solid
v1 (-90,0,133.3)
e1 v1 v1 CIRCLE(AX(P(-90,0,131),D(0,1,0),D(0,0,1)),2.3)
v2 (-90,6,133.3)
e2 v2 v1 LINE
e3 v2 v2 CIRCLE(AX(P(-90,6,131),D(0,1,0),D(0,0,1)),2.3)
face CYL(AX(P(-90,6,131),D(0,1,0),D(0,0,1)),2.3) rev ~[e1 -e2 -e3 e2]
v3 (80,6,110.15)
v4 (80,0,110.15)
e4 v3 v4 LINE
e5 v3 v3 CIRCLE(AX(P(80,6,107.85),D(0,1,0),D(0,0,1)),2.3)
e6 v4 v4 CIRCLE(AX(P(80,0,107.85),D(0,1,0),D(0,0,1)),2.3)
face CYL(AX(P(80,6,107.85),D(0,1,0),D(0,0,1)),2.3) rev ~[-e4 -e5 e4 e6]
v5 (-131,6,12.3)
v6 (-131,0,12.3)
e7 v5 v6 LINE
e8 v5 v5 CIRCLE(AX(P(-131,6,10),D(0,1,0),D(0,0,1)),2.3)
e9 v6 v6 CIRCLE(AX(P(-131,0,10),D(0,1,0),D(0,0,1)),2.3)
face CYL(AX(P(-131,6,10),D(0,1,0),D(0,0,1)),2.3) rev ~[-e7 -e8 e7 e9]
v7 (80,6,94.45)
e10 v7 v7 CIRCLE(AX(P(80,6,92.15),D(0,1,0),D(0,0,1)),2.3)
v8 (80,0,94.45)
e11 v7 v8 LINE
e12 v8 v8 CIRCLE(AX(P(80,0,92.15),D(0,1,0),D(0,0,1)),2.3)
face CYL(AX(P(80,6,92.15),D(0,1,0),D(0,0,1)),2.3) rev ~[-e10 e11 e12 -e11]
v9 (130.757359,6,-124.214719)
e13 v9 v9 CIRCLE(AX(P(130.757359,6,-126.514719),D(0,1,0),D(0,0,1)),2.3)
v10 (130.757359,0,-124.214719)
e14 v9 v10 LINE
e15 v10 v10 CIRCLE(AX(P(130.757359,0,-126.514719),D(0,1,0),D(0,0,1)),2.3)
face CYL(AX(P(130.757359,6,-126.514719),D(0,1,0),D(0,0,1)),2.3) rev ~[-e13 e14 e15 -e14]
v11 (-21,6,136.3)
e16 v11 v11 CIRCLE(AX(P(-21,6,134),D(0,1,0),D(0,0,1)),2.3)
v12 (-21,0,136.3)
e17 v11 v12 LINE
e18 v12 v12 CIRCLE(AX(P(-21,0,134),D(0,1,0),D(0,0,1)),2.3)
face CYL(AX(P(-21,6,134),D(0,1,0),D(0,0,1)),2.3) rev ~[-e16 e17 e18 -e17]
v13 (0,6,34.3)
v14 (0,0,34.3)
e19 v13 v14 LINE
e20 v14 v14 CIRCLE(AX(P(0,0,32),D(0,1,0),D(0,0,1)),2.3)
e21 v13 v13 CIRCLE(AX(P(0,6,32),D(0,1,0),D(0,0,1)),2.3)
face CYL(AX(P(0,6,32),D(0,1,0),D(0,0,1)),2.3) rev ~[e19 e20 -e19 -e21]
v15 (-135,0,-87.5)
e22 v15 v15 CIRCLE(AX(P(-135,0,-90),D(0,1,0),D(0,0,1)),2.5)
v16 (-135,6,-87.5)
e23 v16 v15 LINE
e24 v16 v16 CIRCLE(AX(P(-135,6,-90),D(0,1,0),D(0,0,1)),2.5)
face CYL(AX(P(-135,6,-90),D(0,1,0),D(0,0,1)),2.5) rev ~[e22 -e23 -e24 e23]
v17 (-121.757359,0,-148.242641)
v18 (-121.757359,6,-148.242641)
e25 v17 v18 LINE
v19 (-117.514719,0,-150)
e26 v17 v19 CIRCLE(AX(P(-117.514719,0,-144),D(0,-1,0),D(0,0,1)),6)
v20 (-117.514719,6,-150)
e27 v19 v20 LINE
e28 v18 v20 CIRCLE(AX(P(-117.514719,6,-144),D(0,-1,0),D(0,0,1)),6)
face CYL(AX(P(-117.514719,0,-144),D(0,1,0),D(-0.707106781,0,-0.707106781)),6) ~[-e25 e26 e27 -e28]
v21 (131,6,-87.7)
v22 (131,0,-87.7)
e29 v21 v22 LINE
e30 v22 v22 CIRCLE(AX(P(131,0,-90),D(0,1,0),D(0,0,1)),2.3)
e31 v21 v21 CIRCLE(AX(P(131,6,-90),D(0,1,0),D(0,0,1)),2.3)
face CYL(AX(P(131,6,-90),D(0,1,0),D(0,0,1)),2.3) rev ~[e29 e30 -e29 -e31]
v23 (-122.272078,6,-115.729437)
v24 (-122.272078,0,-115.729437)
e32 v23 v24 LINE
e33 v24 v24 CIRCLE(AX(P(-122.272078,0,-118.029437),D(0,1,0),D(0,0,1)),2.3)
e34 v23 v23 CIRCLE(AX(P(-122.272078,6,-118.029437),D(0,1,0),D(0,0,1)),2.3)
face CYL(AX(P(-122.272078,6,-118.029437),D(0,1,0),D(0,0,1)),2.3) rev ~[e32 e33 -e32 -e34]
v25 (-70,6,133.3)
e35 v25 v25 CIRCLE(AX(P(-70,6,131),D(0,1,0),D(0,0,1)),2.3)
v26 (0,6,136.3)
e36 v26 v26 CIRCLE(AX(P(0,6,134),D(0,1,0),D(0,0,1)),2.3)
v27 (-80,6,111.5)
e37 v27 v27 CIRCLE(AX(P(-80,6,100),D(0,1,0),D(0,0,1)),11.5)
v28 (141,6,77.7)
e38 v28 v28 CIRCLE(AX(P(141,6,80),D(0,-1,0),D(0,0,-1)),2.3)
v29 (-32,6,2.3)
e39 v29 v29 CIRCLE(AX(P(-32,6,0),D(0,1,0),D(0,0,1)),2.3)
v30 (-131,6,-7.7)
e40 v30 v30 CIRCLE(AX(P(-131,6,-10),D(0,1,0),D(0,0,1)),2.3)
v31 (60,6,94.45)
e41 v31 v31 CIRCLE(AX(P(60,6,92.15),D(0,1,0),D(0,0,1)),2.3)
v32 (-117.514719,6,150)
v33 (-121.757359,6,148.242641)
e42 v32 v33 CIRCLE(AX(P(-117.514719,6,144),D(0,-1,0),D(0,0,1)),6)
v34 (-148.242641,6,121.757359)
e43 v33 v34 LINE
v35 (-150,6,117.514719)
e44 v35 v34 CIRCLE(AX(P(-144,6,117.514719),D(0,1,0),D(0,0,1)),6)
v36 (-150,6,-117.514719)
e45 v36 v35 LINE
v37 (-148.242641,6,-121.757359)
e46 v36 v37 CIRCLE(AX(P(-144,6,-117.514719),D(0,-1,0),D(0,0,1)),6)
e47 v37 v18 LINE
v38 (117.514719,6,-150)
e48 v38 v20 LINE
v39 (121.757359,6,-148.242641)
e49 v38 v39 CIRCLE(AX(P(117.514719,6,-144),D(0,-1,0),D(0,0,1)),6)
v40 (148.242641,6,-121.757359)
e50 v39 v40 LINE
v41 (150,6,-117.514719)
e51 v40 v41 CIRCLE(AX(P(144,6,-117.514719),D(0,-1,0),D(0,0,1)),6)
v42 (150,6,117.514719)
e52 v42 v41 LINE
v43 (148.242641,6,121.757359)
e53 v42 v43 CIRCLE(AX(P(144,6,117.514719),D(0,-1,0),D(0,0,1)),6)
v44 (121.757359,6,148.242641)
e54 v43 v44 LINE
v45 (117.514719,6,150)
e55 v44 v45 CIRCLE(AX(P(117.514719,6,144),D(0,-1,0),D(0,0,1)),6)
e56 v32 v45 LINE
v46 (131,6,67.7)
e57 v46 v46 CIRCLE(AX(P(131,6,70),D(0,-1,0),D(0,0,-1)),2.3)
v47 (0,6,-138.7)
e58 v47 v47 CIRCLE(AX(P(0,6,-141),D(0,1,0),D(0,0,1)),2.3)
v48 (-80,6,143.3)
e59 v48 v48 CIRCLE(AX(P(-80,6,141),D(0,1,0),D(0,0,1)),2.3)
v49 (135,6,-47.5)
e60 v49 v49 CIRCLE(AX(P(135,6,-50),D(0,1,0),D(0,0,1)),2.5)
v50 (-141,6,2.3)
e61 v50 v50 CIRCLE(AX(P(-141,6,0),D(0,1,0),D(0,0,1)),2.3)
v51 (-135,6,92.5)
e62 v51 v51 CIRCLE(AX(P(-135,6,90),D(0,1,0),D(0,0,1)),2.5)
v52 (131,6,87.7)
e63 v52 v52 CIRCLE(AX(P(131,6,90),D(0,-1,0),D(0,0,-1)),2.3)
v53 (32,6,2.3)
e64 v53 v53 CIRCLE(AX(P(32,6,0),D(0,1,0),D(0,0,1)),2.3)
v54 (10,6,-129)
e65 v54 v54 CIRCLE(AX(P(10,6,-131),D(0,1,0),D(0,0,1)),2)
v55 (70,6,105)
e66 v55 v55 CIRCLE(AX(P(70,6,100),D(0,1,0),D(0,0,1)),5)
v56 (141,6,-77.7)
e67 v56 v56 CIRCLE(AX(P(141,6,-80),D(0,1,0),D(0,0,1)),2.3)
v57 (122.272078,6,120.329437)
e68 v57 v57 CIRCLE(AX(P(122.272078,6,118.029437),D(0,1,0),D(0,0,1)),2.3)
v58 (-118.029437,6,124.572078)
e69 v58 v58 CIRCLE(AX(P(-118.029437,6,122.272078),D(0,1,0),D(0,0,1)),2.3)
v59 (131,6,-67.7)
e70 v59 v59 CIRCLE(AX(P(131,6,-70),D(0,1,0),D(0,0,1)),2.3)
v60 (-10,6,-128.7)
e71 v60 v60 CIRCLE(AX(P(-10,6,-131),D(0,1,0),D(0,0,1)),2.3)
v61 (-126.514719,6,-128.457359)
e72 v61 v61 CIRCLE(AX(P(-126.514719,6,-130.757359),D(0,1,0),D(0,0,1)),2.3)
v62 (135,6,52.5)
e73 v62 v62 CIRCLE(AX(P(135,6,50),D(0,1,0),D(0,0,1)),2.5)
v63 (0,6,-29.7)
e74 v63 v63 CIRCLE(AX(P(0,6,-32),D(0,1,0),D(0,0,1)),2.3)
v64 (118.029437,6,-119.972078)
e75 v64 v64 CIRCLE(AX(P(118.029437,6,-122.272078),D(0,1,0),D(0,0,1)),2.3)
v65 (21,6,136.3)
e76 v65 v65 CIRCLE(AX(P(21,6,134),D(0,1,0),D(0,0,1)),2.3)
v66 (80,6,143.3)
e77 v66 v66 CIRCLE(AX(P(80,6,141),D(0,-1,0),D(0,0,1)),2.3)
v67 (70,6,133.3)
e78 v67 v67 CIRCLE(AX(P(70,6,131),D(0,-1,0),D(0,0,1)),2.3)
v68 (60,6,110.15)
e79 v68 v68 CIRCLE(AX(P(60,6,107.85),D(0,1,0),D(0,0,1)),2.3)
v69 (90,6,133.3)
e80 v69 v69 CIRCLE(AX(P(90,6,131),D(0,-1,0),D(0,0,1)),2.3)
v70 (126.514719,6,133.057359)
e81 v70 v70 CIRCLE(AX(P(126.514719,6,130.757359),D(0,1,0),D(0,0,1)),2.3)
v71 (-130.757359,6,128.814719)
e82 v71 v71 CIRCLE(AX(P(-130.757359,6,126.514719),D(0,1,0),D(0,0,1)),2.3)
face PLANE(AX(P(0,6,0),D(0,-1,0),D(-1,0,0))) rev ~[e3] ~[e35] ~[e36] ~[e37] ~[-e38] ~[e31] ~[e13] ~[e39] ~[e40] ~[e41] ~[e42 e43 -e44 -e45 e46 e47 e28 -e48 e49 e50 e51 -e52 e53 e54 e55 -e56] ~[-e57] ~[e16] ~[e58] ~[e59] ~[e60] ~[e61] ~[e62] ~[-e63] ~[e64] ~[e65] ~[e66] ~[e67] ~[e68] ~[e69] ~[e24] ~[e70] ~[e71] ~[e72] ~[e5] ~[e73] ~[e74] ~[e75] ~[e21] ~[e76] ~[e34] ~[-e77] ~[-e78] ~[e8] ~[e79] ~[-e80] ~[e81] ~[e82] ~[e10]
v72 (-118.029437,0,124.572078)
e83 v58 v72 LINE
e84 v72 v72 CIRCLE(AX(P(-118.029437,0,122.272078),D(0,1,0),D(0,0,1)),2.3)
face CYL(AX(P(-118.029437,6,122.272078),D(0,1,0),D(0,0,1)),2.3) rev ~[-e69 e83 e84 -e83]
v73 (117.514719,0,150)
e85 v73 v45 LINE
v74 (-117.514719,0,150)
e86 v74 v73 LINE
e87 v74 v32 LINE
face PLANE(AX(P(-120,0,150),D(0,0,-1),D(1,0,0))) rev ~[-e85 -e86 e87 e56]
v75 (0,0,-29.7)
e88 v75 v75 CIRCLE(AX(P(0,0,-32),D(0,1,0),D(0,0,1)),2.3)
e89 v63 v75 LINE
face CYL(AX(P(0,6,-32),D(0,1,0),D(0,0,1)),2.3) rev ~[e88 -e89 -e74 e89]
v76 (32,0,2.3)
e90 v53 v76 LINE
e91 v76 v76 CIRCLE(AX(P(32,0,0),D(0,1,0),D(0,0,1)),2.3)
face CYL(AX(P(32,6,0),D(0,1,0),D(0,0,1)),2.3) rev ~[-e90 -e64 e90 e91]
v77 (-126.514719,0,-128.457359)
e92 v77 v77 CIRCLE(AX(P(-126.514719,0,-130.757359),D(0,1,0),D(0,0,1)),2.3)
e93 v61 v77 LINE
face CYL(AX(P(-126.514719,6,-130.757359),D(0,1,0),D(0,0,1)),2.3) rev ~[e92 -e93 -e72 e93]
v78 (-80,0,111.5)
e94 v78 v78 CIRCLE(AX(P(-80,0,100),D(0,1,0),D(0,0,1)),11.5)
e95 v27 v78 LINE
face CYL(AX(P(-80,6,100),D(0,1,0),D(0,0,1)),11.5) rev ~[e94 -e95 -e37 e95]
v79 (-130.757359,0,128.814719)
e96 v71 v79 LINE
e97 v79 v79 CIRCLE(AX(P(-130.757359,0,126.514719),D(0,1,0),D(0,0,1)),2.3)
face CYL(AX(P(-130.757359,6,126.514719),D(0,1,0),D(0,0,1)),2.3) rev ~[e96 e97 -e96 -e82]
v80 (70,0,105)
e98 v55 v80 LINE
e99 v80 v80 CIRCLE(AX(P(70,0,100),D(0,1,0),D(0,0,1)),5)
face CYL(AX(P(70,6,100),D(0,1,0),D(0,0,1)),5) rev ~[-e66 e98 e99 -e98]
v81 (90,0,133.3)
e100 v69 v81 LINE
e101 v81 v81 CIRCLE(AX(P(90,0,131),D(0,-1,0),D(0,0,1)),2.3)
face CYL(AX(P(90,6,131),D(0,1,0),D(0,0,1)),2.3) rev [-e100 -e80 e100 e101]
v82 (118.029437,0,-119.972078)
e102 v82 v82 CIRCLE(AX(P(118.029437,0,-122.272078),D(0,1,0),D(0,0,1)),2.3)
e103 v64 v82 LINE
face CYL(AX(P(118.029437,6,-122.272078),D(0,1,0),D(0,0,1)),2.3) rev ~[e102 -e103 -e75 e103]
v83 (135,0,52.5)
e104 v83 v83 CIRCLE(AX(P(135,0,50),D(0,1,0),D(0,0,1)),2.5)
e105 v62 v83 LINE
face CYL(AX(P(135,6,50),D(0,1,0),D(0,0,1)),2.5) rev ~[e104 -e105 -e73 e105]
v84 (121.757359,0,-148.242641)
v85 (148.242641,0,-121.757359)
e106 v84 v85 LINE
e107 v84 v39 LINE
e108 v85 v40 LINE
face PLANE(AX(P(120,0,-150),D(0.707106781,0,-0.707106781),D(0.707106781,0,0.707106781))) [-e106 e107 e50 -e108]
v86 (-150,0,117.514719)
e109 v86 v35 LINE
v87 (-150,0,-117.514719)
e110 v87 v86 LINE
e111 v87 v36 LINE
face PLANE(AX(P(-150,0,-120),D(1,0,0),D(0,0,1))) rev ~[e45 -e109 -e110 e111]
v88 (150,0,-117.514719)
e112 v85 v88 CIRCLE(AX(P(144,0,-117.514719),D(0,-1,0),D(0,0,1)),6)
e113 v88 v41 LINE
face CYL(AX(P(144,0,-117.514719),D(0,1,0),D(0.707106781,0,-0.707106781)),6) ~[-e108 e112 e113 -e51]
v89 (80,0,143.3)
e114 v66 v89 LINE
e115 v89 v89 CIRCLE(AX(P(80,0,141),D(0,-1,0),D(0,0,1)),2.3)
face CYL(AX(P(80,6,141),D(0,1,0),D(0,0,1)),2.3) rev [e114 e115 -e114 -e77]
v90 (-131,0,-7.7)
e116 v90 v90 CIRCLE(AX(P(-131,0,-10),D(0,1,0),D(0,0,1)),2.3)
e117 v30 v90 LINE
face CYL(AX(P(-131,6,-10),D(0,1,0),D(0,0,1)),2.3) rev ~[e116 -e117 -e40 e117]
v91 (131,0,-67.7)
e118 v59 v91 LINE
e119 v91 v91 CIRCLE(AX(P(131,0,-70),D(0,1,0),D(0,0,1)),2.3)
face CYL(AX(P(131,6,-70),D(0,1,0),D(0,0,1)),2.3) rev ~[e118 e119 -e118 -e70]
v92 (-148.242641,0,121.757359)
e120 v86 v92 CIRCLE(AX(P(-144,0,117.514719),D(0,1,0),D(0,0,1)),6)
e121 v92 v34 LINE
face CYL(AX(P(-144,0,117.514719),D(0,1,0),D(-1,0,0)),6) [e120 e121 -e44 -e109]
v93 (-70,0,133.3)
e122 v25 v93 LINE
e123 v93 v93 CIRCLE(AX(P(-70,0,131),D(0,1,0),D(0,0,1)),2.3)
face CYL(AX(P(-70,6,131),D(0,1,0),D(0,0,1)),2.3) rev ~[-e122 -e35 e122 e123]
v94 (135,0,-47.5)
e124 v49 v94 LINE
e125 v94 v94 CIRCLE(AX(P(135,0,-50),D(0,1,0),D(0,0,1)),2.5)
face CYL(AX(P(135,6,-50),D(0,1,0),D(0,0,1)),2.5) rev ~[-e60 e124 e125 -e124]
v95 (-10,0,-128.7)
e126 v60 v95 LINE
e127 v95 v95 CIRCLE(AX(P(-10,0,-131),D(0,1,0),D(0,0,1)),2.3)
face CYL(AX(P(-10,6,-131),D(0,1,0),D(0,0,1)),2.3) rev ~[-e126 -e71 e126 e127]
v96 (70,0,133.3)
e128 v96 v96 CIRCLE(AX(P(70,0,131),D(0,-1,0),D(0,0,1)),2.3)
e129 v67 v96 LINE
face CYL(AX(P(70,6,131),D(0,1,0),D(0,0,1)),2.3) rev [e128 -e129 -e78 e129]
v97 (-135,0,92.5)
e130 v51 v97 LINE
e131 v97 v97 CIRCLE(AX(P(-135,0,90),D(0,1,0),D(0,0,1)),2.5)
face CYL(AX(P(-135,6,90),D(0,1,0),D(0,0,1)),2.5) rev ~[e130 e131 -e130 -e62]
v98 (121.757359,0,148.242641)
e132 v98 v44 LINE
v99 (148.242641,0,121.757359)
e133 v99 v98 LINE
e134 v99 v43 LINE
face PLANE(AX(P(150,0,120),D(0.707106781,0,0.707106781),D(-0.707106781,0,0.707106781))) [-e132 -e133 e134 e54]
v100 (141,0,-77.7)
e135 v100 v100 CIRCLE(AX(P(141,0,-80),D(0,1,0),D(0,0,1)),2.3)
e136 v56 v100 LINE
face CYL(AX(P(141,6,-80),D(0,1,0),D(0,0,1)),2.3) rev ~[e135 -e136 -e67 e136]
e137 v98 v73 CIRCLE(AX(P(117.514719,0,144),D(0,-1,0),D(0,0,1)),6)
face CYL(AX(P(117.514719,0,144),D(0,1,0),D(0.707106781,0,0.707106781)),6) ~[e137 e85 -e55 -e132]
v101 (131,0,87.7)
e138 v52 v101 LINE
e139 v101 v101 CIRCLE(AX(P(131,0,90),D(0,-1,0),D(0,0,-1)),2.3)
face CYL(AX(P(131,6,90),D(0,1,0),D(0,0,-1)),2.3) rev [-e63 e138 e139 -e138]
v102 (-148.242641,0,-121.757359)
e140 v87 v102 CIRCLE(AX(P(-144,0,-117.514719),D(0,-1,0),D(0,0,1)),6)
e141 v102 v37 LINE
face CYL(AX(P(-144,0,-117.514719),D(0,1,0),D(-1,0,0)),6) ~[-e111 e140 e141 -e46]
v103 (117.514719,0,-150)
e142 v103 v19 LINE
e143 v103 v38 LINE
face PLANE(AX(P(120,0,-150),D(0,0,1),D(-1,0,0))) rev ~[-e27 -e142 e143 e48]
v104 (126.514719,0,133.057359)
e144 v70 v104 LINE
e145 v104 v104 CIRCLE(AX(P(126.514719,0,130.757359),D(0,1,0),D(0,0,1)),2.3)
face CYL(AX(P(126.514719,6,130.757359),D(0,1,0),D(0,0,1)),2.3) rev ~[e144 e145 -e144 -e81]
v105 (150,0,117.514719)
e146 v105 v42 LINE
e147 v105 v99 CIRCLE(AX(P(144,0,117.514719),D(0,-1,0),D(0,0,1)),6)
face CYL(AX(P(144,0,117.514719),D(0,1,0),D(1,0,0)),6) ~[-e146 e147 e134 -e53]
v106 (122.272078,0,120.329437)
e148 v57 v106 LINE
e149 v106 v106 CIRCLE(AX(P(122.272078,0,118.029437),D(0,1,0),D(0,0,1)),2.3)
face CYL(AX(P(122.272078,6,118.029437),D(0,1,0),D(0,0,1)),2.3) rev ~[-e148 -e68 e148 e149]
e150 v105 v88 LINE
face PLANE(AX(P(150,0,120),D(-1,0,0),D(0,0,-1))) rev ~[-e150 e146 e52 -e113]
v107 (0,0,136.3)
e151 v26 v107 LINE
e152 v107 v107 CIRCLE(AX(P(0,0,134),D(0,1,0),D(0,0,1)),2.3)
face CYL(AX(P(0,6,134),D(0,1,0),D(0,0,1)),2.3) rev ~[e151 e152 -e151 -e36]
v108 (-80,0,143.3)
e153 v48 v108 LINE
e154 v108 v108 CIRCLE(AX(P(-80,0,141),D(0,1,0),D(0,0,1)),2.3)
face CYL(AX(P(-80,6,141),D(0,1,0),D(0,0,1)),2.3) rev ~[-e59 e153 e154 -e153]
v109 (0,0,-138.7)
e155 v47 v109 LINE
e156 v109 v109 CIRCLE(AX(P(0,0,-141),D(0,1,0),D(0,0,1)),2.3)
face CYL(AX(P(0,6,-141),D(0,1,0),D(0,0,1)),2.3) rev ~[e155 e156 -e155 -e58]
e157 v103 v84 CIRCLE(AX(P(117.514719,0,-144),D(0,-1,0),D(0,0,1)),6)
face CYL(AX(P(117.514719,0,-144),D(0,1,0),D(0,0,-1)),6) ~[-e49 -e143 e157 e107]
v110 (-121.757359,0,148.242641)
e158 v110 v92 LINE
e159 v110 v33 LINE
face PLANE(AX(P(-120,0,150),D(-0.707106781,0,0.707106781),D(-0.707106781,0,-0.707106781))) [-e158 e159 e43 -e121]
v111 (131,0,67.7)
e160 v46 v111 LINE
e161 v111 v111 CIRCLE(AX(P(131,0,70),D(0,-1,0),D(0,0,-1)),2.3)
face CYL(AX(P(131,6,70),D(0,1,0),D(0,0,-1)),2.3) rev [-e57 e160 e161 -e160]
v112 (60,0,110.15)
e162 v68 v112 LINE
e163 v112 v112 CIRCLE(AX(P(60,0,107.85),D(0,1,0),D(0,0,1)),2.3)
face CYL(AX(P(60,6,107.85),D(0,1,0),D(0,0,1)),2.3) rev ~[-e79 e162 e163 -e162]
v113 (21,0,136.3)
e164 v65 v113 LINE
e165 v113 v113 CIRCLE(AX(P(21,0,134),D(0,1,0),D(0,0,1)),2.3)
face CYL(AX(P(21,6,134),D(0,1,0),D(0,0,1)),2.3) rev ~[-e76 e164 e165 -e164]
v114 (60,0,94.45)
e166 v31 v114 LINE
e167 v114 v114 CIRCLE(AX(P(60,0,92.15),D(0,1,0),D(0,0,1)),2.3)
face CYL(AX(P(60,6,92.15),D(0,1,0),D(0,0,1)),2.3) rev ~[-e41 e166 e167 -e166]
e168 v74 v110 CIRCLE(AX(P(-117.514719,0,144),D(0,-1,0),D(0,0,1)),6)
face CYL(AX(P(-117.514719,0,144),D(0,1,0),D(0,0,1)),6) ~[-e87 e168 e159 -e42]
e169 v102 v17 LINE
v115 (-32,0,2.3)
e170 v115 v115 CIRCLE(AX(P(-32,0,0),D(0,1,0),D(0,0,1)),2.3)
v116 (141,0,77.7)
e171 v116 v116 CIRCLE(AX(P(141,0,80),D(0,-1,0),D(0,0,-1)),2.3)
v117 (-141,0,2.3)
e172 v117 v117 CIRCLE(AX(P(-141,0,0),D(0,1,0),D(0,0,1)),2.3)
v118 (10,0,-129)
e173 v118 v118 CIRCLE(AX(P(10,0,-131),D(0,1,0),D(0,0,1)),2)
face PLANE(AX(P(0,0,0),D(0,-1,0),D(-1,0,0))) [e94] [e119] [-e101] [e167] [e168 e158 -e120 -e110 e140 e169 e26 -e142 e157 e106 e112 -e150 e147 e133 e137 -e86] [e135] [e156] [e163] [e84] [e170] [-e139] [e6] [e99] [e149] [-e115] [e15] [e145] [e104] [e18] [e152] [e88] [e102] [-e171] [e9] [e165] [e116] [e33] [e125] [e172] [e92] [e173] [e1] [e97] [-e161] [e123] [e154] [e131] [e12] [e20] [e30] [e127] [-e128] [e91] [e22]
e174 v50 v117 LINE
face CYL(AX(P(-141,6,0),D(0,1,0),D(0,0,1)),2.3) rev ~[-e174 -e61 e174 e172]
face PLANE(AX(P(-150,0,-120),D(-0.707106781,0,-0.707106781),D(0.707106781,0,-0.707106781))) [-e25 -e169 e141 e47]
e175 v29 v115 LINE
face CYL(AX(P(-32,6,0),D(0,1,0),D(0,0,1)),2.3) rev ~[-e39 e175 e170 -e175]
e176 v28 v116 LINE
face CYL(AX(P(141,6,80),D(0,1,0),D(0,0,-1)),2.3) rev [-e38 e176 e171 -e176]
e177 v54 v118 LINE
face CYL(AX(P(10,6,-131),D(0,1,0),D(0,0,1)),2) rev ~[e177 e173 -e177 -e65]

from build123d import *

# Parameters (mm, degrees)
BOSS_EXTRU_1_DEPTH       = 6
CONG_3_R                 = 6
ENL_V_MAT_EXTRU_9_REACH  = 214.217
ESQUISSE10_R             = 11.5
ENL_V_MAT_EXTRU_10_REACH = 214.217
ESQUISSE11_R             = 5
ESQUISSE11_R_2           = 2.3
ENL_V_MAT_EXTRU_14_REACH = 214.217
ESQUISSE15_R             = 2.3
ENL_V_MAT_EXTRU_15_REACH = 214.217
ESQUISSE14_R             = 2.3
ENL_V_MAT_EXTRU_16_REACH = 214.217
ESQUISSE13_R             = 2.3
ENL_V_MAT_EXTRU_17_REACH = 214.217
ESQUISSE16_R             = 2.3
ESQUISSE16_R_2           = 2
ENL_V_MAT_EXTRU_18_REACH = 214.217
ESQUISSE17_R             = 2.3
ENL_V_MAT_EXTRU_19_REACH = 214.217
ESQUISSE18_R             = 2.3
ENL_V_MAT_EXTRU_21_REACH = 214.217
ESQUISSE20_R             = 2.5
ENL_V_MAT_EXTRU_22_REACH = 214.217
ESQUISSE21_R             = 2.3


with BuildPart() as part:
    # Esquisse1 → Boss.-Extru.1 (new body)
    with BuildSketch(Plane(origin=(0, 0, 0), x_dir=(1, 0, 0), z_dir=(0, 1, 0))):
        Polygon((-150, 0), (-150, 120), (-120, 150), (0, 150), (120, 150), (150, 120), (150, 0), (150, -120), (120, -150), (0, -150), (-120, -150), (-150, -120), align=None)
    extrude(amount=BOSS_EXTRU_1_DEPTH)

    # Congé3
    cong_3_edges = [part.edges().sort_by_distance(p)[0] for p in [
        (-150, 3, -120),
        (-120, 3, -150),
        (120, 3, -150),
        (150, 3, -120),
        (150, 3, 120),
        (120, 3, 150),
        (-120, 3, 150),
        (-150, 3, 120),
    ]]
    fillet(cong_3_edges, radius=CONG_3_R)

    # Esquisse10 → Enlèv. mat.-Extru.9 (cut, up to next)
    with BuildSketch(Plane(origin=(0, 6, 0), x_dir=(1, 0, 0), z_dir=(0, 1, 0)), mode=Mode.PRIVATE) as enl_v_mat_extru_9_sk1:
        with Locations(Location((-80, -100, 0), (0, 0, 270))):
            Circle(ESQUISSE10_R)
    enl_v_mat_extru_9_tool1 = extrude(enl_v_mat_extru_9_sk1.sketch, amount=-ENL_V_MAT_EXTRU_9_REACH, mode=Mode.PRIVATE) & part.part
    add(enl_v_mat_extru_9_tool1.solids().sort_by_distance((-80, 6, 100))[0], mode=Mode.SUBTRACT)

    # Esquisse11 → Enlèv. mat.-Extru.10 (cut, up to next)
    with BuildSketch(Plane(origin=(0, 6, 0), x_dir=(1, 0, 0), z_dir=(0, 1, 0)), mode=Mode.PRIVATE) as enl_v_mat_extru_10_sk1:
        with Locations(Location((70, -100, 0), (0, 0, 270))):
            Circle(ESQUISSE11_R)
    enl_v_mat_extru_10_tool1 = extrude(enl_v_mat_extru_10_sk1.sketch, amount=-ENL_V_MAT_EXTRU_10_REACH, mode=Mode.PRIVATE) & part.part
    # Esquisse11 → Enlèv. mat.-Extru.10 (cut, up to next)
    with BuildSketch(Plane(origin=(0, 6, 0), x_dir=(1, 0, 0), z_dir=(0, 1, 0)), mode=Mode.PRIVATE) as enl_v_mat_extru_10_sk2:
        with Locations(Location((80, -107.85, 0), (0, 0, 270))):
            Circle(ESQUISSE11_R_2)
    enl_v_mat_extru_10_tool2 = extrude(enl_v_mat_extru_10_sk2.sketch, amount=-ENL_V_MAT_EXTRU_10_REACH, mode=Mode.PRIVATE) & part.part
    # Esquisse11 → Enlèv. mat.-Extru.10 (cut, up to next)
    with BuildSketch(Plane(origin=(0, 6, 0), x_dir=(1, 0, 0), z_dir=(0, 1, 0)), mode=Mode.PRIVATE) as enl_v_mat_extru_10_sk3:
        with Locations(Location((80, -92.15, 0), (0, 0, 270))):
            Circle(ESQUISSE11_R_2)
    enl_v_mat_extru_10_tool3 = extrude(enl_v_mat_extru_10_sk3.sketch, amount=-ENL_V_MAT_EXTRU_10_REACH, mode=Mode.PRIVATE) & part.part
    # Esquisse11 → Enlèv. mat.-Extru.10 (cut, up to next)
    with BuildSketch(Plane(origin=(0, 6, 0), x_dir=(1, 0, 0), z_dir=(0, 1, 0)), mode=Mode.PRIVATE) as enl_v_mat_extru_10_sk4:
        with Locations(Location((60, -92.15, 0), (0, 0, 270))):
            Circle(ESQUISSE11_R_2)
    enl_v_mat_extru_10_tool4 = extrude(enl_v_mat_extru_10_sk4.sketch, amount=-ENL_V_MAT_EXTRU_10_REACH, mode=Mode.PRIVATE) & part.part
    # Esquisse11 → Enlèv. mat.-Extru.10 (cut, up to next)
    with BuildSketch(Plane(origin=(0, 6, 0), x_dir=(1, 0, 0), z_dir=(0, 1, 0)), mode=Mode.PRIVATE) as enl_v_mat_extru_10_sk5:
        with Locations(Location((60, -107.85, 0), (0, 0, 270))):
            Circle(ESQUISSE11_R_2)
    enl_v_mat_extru_10_tool5 = extrude(enl_v_mat_extru_10_sk5.sketch, amount=-ENL_V_MAT_EXTRU_10_REACH, mode=Mode.PRIVATE) & part.part
    add(enl_v_mat_extru_10_tool1.solids().sort_by_distance((70, 6, 100))[0], mode=Mode.SUBTRACT)
    add(enl_v_mat_extru_10_tool2.solids().sort_by_distance((80, 6, 107.85))[0], mode=Mode.SUBTRACT)
    add(enl_v_mat_extru_10_tool3.solids().sort_by_distance((80, 6, 92.15))[0], mode=Mode.SUBTRACT)
    add(enl_v_mat_extru_10_tool4.solids().sort_by_distance((60, 6, 92.15))[0], mode=Mode.SUBTRACT)
    add(enl_v_mat_extru_10_tool5.solids().sort_by_distance((60, 6, 107.85))[0], mode=Mode.SUBTRACT)

    # Esquisse15 → Enlèv. mat.-Extru.14 (cut, up to next)
    with BuildSketch(Plane(origin=(0, 6, 0), x_dir=(1, 0, 0), z_dir=(0, 1, 0)), mode=Mode.PRIVATE) as enl_v_mat_extru_14_sk1:
        with Locations(Location((141, 80, 0), (0, 0, 270))):
            Circle(ESQUISSE15_R)
    enl_v_mat_extru_14_tool1 = extrude(enl_v_mat_extru_14_sk1.sketch, amount=-ENL_V_MAT_EXTRU_14_REACH, mode=Mode.PRIVATE) & part.part
    # Esquisse15 → Enlèv. mat.-Extru.14 (cut, up to next)
    with BuildSketch(Plane(origin=(0, 6, 0), x_dir=(1, 0, 0), z_dir=(0, 1, 0)), mode=Mode.PRIVATE) as enl_v_mat_extru_14_sk2:
        with Locations(Location((131, 70, 0), (0, 0, 270))):
            Circle(ESQUISSE15_R)
    enl_v_mat_extru_14_tool2 = extrude(enl_v_mat_extru_14_sk2.sketch, amount=-ENL_V_MAT_EXTRU_14_REACH, mode=Mode.PRIVATE) & part.part
    # Esquisse15 → Enlèv. mat.-Extru.14 (cut, up to next)
    with BuildSketch(Plane(origin=(0, 6, 0), x_dir=(1, 0, 0), z_dir=(0, 1, 0)), mode=Mode.PRIVATE) as enl_v_mat_extru_14_sk3:
        with Locations(Location((131, 90, 0), (0, 0, 270))):
            Circle(ESQUISSE15_R)
    enl_v_mat_extru_14_tool3 = extrude(enl_v_mat_extru_14_sk3.sketch, amount=-ENL_V_MAT_EXTRU_14_REACH, mode=Mode.PRIVATE) & part.part
    enl_v_mat_extru_14_1 = enl_v_mat_extru_14_tool1.solids().sort_by_distance((141, 6, -80))[0]
    add(enl_v_mat_extru_14_1, mode=Mode.SUBTRACT)
    enl_v_mat_extru_14_2 = enl_v_mat_extru_14_tool2.solids().sort_by_distance((131, 6, -70))[0]
    add(enl_v_mat_extru_14_2, mode=Mode.SUBTRACT)
    enl_v_mat_extru_14_3 = enl_v_mat_extru_14_tool3.solids().sort_by_distance((131, 6, -90))[0]
    add(enl_v_mat_extru_14_3, mode=Mode.SUBTRACT)
    enl_v_mat_extru_14 = enl_v_mat_extru_14_1 + enl_v_mat_extru_14_2 + enl_v_mat_extru_14_3  # Enlèv. mat.-Extru.14 as one shape, for the pattern or mirror that repeats it

    # Symétrie13: Enlèv. mat.-Extru.14 across plane
    add(enl_v_mat_extru_14.mirror(Plane.XY), mode=Mode.SUBTRACT)

    # Esquisse14 → Enlèv. mat.-Extru.15 (cut, up to next)
    with BuildSketch(Plane(origin=(0, 6, 0), x_dir=(1, 0, 0), z_dir=(0, 1, 0)), mode=Mode.PRIVATE) as enl_v_mat_extru_15_sk1:
        with Locations(Location((-80, -141, 0), (0, 0, 270))):
            Circle(ESQUISSE14_R)
    enl_v_mat_extru_15_tool1 = extrude(enl_v_mat_extru_15_sk1.sketch, amount=-ENL_V_MAT_EXTRU_15_REACH, mode=Mode.PRIVATE) & part.part
    # Esquisse14 → Enlèv. mat.-Extru.15 (cut, up to next)
    with BuildSketch(Plane(origin=(0, 6, 0), x_dir=(1, 0, 0), z_dir=(0, 1, 0)), mode=Mode.PRIVATE) as enl_v_mat_extru_15_sk2:
        with Locations(Location((-70, -131, 0), (0, 0, 270))):
            Circle(ESQUISSE14_R)
    enl_v_mat_extru_15_tool2 = extrude(enl_v_mat_extru_15_sk2.sketch, amount=-ENL_V_MAT_EXTRU_15_REACH, mode=Mode.PRIVATE) & part.part
    # Esquisse14 → Enlèv. mat.-Extru.15 (cut, up to next)
    with BuildSketch(Plane(origin=(0, 6, 0), x_dir=(1, 0, 0), z_dir=(0, 1, 0)), mode=Mode.PRIVATE) as enl_v_mat_extru_15_sk3:
        with Locations(Location((-90, -131, 0), (0, 0, 270))):
            Circle(ESQUISSE14_R)
    enl_v_mat_extru_15_tool3 = extrude(enl_v_mat_extru_15_sk3.sketch, amount=-ENL_V_MAT_EXTRU_15_REACH, mode=Mode.PRIVATE) & part.part
    enl_v_mat_extru_15_1 = enl_v_mat_extru_15_tool1.solids().sort_by_distance((-80, 6, 141))[0]
    add(enl_v_mat_extru_15_1, mode=Mode.SUBTRACT)
    enl_v_mat_extru_15_2 = enl_v_mat_extru_15_tool2.solids().sort_by_distance((-70, 6, 131))[0]
    add(enl_v_mat_extru_15_2, mode=Mode.SUBTRACT)
    enl_v_mat_extru_15_3 = enl_v_mat_extru_15_tool3.solids().sort_by_distance((-90, 6, 131))[0]
    add(enl_v_mat_extru_15_3, mode=Mode.SUBTRACT)
    enl_v_mat_extru_15 = enl_v_mat_extru_15_1 + enl_v_mat_extru_15_2 + enl_v_mat_extru_15_3  # Enlèv. mat.-Extru.15 as one shape, for the pattern or mirror that repeats it

    # Symétrie14: Enlèv. mat.-Extru.15 across plane
    add(enl_v_mat_extru_15.mirror(Plane(origin=(0, 0, 0), x_dir=(0, 0, 1), z_dir=(1, 0, 0))), mode=Mode.SUBTRACT)

    # Esquisse13 → Enlèv. mat.-Extru.16 (cut, up to next)
    with BuildSketch(Plane(origin=(0, 6, 0), x_dir=(1, 0, 0), z_dir=(0, 1, 0)), mode=Mode.PRIVATE) as enl_v_mat_extru_16_sk1:
        with Locations(Location((-141, 0, 0), (0, 0, 270))):
            Circle(ESQUISSE13_R)
    enl_v_mat_extru_16_tool1 = extrude(enl_v_mat_extru_16_sk1.sketch, amount=-ENL_V_MAT_EXTRU_16_REACH, mode=Mode.PRIVATE) & part.part
    # Esquisse13 → Enlèv. mat.-Extru.16 (cut, up to next)
    with BuildSketch(Plane(origin=(0, 6, 0), x_dir=(1, 0, 0), z_dir=(0, 1, 0)), mode=Mode.PRIVATE) as enl_v_mat_extru_16_sk2:
        with Locations(Location((-131, 10, 0), (0, 0, 270))):
            Circle(ESQUISSE13_R)
    enl_v_mat_extru_16_tool2 = extrude(enl_v_mat_extru_16_sk2.sketch, amount=-ENL_V_MAT_EXTRU_16_REACH, mode=Mode.PRIVATE) & part.part
    # Esquisse13 → Enlèv. mat.-Extru.16 (cut, up to next)
    with BuildSketch(Plane(origin=(0, 6, 0), x_dir=(1, 0, 0), z_dir=(0, 1, 0)), mode=Mode.PRIVATE) as enl_v_mat_extru_16_sk3:
        with Locations(Location((-131, -10, 0), (0, 0, 270))):
            Circle(ESQUISSE13_R)
    enl_v_mat_extru_16_tool3 = extrude(enl_v_mat_extru_16_sk3.sketch, amount=-ENL_V_MAT_EXTRU_16_REACH, mode=Mode.PRIVATE) & part.part
    add(enl_v_mat_extru_16_tool1.solids().sort_by_distance((-141, 6, 0))[0], mode=Mode.SUBTRACT)
    add(enl_v_mat_extru_16_tool2.solids().sort_by_distance((-131, 6, -10))[0], mode=Mode.SUBTRACT)
    add(enl_v_mat_extru_16_tool3.solids().sort_by_distance((-131, 6, 10))[0], mode=Mode.SUBTRACT)

    # Esquisse16 → Enlèv. mat.-Extru.17 (cut, up to next)
    with BuildSketch(Plane(origin=(0, 6, 0), x_dir=(1, 0, 0), z_dir=(0, 1, 0)), mode=Mode.PRIVATE) as enl_v_mat_extru_17_sk1:
        with Locations(Location((0, 141, 0), (0, 0, 270))):
            Circle(ESQUISSE16_R)
    enl_v_mat_extru_17_tool1 = extrude(enl_v_mat_extru_17_sk1.sketch, amount=-ENL_V_MAT_EXTRU_17_REACH, mode=Mode.PRIVATE) & part.part
    # Esquisse16 → Enlèv. mat.-Extru.17 (cut, up to next)
    with BuildSketch(Plane(origin=(0, 6, 0), x_dir=(1, 0, 0), z_dir=(0, 1, 0)), mode=Mode.PRIVATE) as enl_v_mat_extru_17_sk2:
        with Locations(Location((10, 131, 0), (0, 0, 270))):
            Circle(ESQUISSE16_R_2)
    enl_v_mat_extru_17_tool2 = extrude(enl_v_mat_extru_17_sk2.sketch, amount=-ENL_V_MAT_EXTRU_17_REACH, mode=Mode.PRIVATE) & part.part
    # Esquisse16 → Enlèv. mat.-Extru.17 (cut, up to next)
    with BuildSketch(Plane(origin=(0, 6, 0), x_dir=(1, 0, 0), z_dir=(0, 1, 0)), mode=Mode.PRIVATE) as enl_v_mat_extru_17_sk3:
        with Locations(Location((-10, 131, 0), (0, 0, 270))):
            Circle(ESQUISSE16_R)
    enl_v_mat_extru_17_tool3 = extrude(enl_v_mat_extru_17_sk3.sketch, amount=-ENL_V_MAT_EXTRU_17_REACH, mode=Mode.PRIVATE) & part.part
    add(enl_v_mat_extru_17_tool1.solids().sort_by_distance((0, 6, -141))[0], mode=Mode.SUBTRACT)
    add(enl_v_mat_extru_17_tool2.solids().sort_by_distance((10, 6, -131))[0], mode=Mode.SUBTRACT)
    add(enl_v_mat_extru_17_tool3.solids().sort_by_distance((-10, 6, -131))[0], mode=Mode.SUBTRACT)

    # Esquisse17 → Enlèv. mat.-Extru.18 (cut, up to next)
    with BuildSketch(Plane(origin=(0, 6, 0), x_dir=(1, 0, 0), z_dir=(0, 1, 0)), mode=Mode.PRIVATE) as enl_v_mat_extru_18_sk1:
        with Locations(Location((-130.757359313, -126.514718626, 0), (0, 0, 270))):
            Circle(ESQUISSE17_R)
    enl_v_mat_extru_18_tool1 = extrude(enl_v_mat_extru_18_sk1.sketch, amount=-ENL_V_MAT_EXTRU_18_REACH, mode=Mode.PRIVATE) & part.part
    # Esquisse17 → Enlèv. mat.-Extru.18 (cut, up to next)
    with BuildSketch(Plane(origin=(0, 6, 0), x_dir=(1, 0, 0), z_dir=(0, 1, 0)), mode=Mode.PRIVATE) as enl_v_mat_extru_18_sk2:
        with Locations(Location((-118.029437252, -122.272077939, 0), (0, 0, 270))):
            Circle(ESQUISSE17_R)
    enl_v_mat_extru_18_tool2 = extrude(enl_v_mat_extru_18_sk2.sketch, amount=-ENL_V_MAT_EXTRU_18_REACH, mode=Mode.PRIVATE) & part.part
    # Esquisse17 → Enlèv. mat.-Extru.18 (cut, up to next)
    with BuildSketch(Plane(origin=(0, 6, 0), x_dir=(1, 0, 0), z_dir=(0, 1, 0)), mode=Mode.PRIVATE) as enl_v_mat_extru_18_sk3:
        with Locations(Location((126.514718626, -130.757359313, 0), (0, 0, 270))):
            Circle(ESQUISSE17_R)
    enl_v_mat_extru_18_tool3 = extrude(enl_v_mat_extru_18_sk3.sketch, amount=-ENL_V_MAT_EXTRU_18_REACH, mode=Mode.PRIVATE) & part.part
    # Esquisse17 → Enlèv. mat.-Extru.18 (cut, up to next)
    with BuildSketch(Plane(origin=(0, 6, 0), x_dir=(1, 0, 0), z_dir=(0, 1, 0)), mode=Mode.PRIVATE) as enl_v_mat_extru_18_sk4:
        with Locations(Location((122.272077939, -118.029437252, 0), (0, 0, 270))):
            Circle(ESQUISSE17_R)
    enl_v_mat_extru_18_tool4 = extrude(enl_v_mat_extru_18_sk4.sketch, amount=-ENL_V_MAT_EXTRU_18_REACH, mode=Mode.PRIVATE) & part.part
    # Esquisse17 → Enlèv. mat.-Extru.18 (cut, up to next)
    with BuildSketch(Plane(origin=(0, 6, 0), x_dir=(1, 0, 0), z_dir=(0, 1, 0)), mode=Mode.PRIVATE) as enl_v_mat_extru_18_sk5:
        with Locations(Location((118.029437252, 122.272077939, 0), (0, 0, 270))):
            Circle(ESQUISSE17_R)
    enl_v_mat_extru_18_tool5 = extrude(enl_v_mat_extru_18_sk5.sketch, amount=-ENL_V_MAT_EXTRU_18_REACH, mode=Mode.PRIVATE) & part.part
    # Esquisse17 → Enlèv. mat.-Extru.18 (cut, up to next)
    with BuildSketch(Plane(origin=(0, 6, 0), x_dir=(1, 0, 0), z_dir=(0, 1, 0)), mode=Mode.PRIVATE) as enl_v_mat_extru_18_sk6:
        with Locations(Location((130.757359313, 126.514718626, 0), (0, 0, 270))):
            Circle(ESQUISSE17_R)
    enl_v_mat_extru_18_tool6 = extrude(enl_v_mat_extru_18_sk6.sketch, amount=-ENL_V_MAT_EXTRU_18_REACH, mode=Mode.PRIVATE) & part.part
    # Esquisse17 → Enlèv. mat.-Extru.18 (cut, up to next)
    with BuildSketch(Plane(origin=(0, 6, 0), x_dir=(1, 0, 0), z_dir=(0, 1, 0)), mode=Mode.PRIVATE) as enl_v_mat_extru_18_sk7:
        with Locations(Location((-126.514718626, 130.757359313, 0), (0, 0, 270))):
            Circle(ESQUISSE17_R)
    enl_v_mat_extru_18_tool7 = extrude(enl_v_mat_extru_18_sk7.sketch, amount=-ENL_V_MAT_EXTRU_18_REACH, mode=Mode.PRIVATE) & part.part
    # Esquisse17 → Enlèv. mat.-Extru.18 (cut, up to next)
    with BuildSketch(Plane(origin=(0, 6, 0), x_dir=(1, 0, 0), z_dir=(0, 1, 0)), mode=Mode.PRIVATE) as enl_v_mat_extru_18_sk8:
        with Locations(Location((-122.272077939, 118.029437252, 0), (0, 0, 270))):
            Circle(ESQUISSE17_R)
    enl_v_mat_extru_18_tool8 = extrude(enl_v_mat_extru_18_sk8.sketch, amount=-ENL_V_MAT_EXTRU_18_REACH, mode=Mode.PRIVATE) & part.part
    add(enl_v_mat_extru_18_tool1.solids().sort_by_distance((-130.757359, 6, 126.514719))[0], mode=Mode.SUBTRACT)
    add(enl_v_mat_extru_18_tool2.solids().sort_by_distance((-118.029437, 6, 122.272078))[0], mode=Mode.SUBTRACT)
    add(enl_v_mat_extru_18_tool3.solids().sort_by_distance((126.514719, 6, 130.757359))[0], mode=Mode.SUBTRACT)
    add(enl_v_mat_extru_18_tool4.solids().sort_by_distance((122.272078, 6, 118.029437))[0], mode=Mode.SUBTRACT)
    add(enl_v_mat_extru_18_tool5.solids().sort_by_distance((118.029437, 6, -122.272078))[0], mode=Mode.SUBTRACT)
    add(enl_v_mat_extru_18_tool6.solids().sort_by_distance((130.757359, 6, -126.514719))[0], mode=Mode.SUBTRACT)
    add(enl_v_mat_extru_18_tool7.solids().sort_by_distance((-126.514719, 6, -130.757359))[0], mode=Mode.SUBTRACT)
    add(enl_v_mat_extru_18_tool8.solids().sort_by_distance((-122.272078, 6, -118.029437))[0], mode=Mode.SUBTRACT)

    # Esquisse18 → Enlèv. mat.-Extru.19 (cut, up to next)
    with BuildSketch(Plane(origin=(0, 6, 0), x_dir=(1, 0, 0), z_dir=(0, 1, 0)), mode=Mode.PRIVATE) as enl_v_mat_extru_19_sk1:
        with Locations(Location((0, -32, 0), (0, 0, 270))):
            Circle(ESQUISSE18_R)
    enl_v_mat_extru_19_tool1 = extrude(enl_v_mat_extru_19_sk1.sketch, amount=-ENL_V_MAT_EXTRU_19_REACH, mode=Mode.PRIVATE) & part.part
    # Esquisse18 → Enlèv. mat.-Extru.19 (cut, up to next)
    with BuildSketch(Plane(origin=(0, 6, 0), x_dir=(1, 0, 0), z_dir=(0, 1, 0)), mode=Mode.PRIVATE) as enl_v_mat_extru_19_sk2:
        with Locations(Location((32, 0, 0), (0, 0, 270))):
            Circle(ESQUISSE18_R)
    enl_v_mat_extru_19_tool2 = extrude(enl_v_mat_extru_19_sk2.sketch, amount=-ENL_V_MAT_EXTRU_19_REACH, mode=Mode.PRIVATE) & part.part
    # Esquisse18 → Enlèv. mat.-Extru.19 (cut, up to next)
    with BuildSketch(Plane(origin=(0, 6, 0), x_dir=(1, 0, 0), z_dir=(0, 1, 0)), mode=Mode.PRIVATE) as enl_v_mat_extru_19_sk3:
        with Locations(Location((-32, 0, 0), (0, 0, 270))):
            Circle(ESQUISSE18_R)
    enl_v_mat_extru_19_tool3 = extrude(enl_v_mat_extru_19_sk3.sketch, amount=-ENL_V_MAT_EXTRU_19_REACH, mode=Mode.PRIVATE) & part.part
    # Esquisse18 → Enlèv. mat.-Extru.19 (cut, up to next)
    with BuildSketch(Plane(origin=(0, 6, 0), x_dir=(1, 0, 0), z_dir=(0, 1, 0)), mode=Mode.PRIVATE) as enl_v_mat_extru_19_sk4:
        with Locations(Location((0, 32, 0), (0, 0, 270))):
            Circle(ESQUISSE18_R)
    enl_v_mat_extru_19_tool4 = extrude(enl_v_mat_extru_19_sk4.sketch, amount=-ENL_V_MAT_EXTRU_19_REACH, mode=Mode.PRIVATE) & part.part
    add(enl_v_mat_extru_19_tool1.solids().sort_by_distance((0, 6, 32))[0], mode=Mode.SUBTRACT)
    add(enl_v_mat_extru_19_tool2.solids().sort_by_distance((32, 6, 0))[0], mode=Mode.SUBTRACT)
    add(enl_v_mat_extru_19_tool3.solids().sort_by_distance((-32, 6, 0))[0], mode=Mode.SUBTRACT)
    add(enl_v_mat_extru_19_tool4.solids().sort_by_distance((0, 6, -32))[0], mode=Mode.SUBTRACT)

    # Esquisse20 → Enlèv. mat.-Extru.21 (cut, up to next)
    with BuildSketch(Plane(origin=(0, 6, 0), x_dir=(1, 0, 0), z_dir=(0, 1, 0)), mode=Mode.PRIVATE) as enl_v_mat_extru_21_sk1:
        with Locations(Location((-135, -90, 0), (0, 0, 270))):
            Circle(ESQUISSE20_R)
    enl_v_mat_extru_21_tool1 = extrude(enl_v_mat_extru_21_sk1.sketch, amount=-ENL_V_MAT_EXTRU_21_REACH, mode=Mode.PRIVATE) & part.part
    # Esquisse20 → Enlèv. mat.-Extru.21 (cut, up to next)
    with BuildSketch(Plane(origin=(0, 6, 0), x_dir=(1, 0, 0), z_dir=(0, 1, 0)), mode=Mode.PRIVATE) as enl_v_mat_extru_21_sk2:
        with Locations(Location((-135, 90, 0), (0, 0, 270))):
            Circle(ESQUISSE20_R)
    enl_v_mat_extru_21_tool2 = extrude(enl_v_mat_extru_21_sk2.sketch, amount=-ENL_V_MAT_EXTRU_21_REACH, mode=Mode.PRIVATE) & part.part
    # Esquisse20 → Enlèv. mat.-Extru.21 (cut, up to next)
    with BuildSketch(Plane(origin=(0, 6, 0), x_dir=(1, 0, 0), z_dir=(0, 1, 0)), mode=Mode.PRIVATE) as enl_v_mat_extru_21_sk3:
        with Locations(Location((135, 50, 0), (0, 0, 270))):
            Circle(ESQUISSE20_R)
    enl_v_mat_extru_21_tool3 = extrude(enl_v_mat_extru_21_sk3.sketch, amount=-ENL_V_MAT_EXTRU_21_REACH, mode=Mode.PRIVATE) & part.part
    # Esquisse20 → Enlèv. mat.-Extru.21 (cut, up to next)
    with BuildSketch(Plane(origin=(0, 6, 0), x_dir=(1, 0, 0), z_dir=(0, 1, 0)), mode=Mode.PRIVATE) as enl_v_mat_extru_21_sk4:
        with Locations(Location((135, -50, 0), (0, 0, 270))):
            Circle(ESQUISSE20_R)
    enl_v_mat_extru_21_tool4 = extrude(enl_v_mat_extru_21_sk4.sketch, amount=-ENL_V_MAT_EXTRU_21_REACH, mode=Mode.PRIVATE) & part.part
    add(enl_v_mat_extru_21_tool1.solids().sort_by_distance((-135, 6, 90))[0], mode=Mode.SUBTRACT)
    add(enl_v_mat_extru_21_tool2.solids().sort_by_distance((-135, 6, -90))[0], mode=Mode.SUBTRACT)
    add(enl_v_mat_extru_21_tool3.solids().sort_by_distance((135, 6, -50))[0], mode=Mode.SUBTRACT)
    add(enl_v_mat_extru_21_tool4.solids().sort_by_distance((135, 6, 50))[0], mode=Mode.SUBTRACT)

    # Esquisse21 → Enlèv. mat.-Extru.22 (cut, up to next)
    with BuildSketch(Plane(origin=(0, 6, 0), x_dir=(1, 0, 0), z_dir=(0, 1, 0)), mode=Mode.PRIVATE) as enl_v_mat_extru_22_sk1:
        with Locations(Location((0, -134, 0), (0, 0, 270))):
            Circle(ESQUISSE21_R)
    enl_v_mat_extru_22_tool1 = extrude(enl_v_mat_extru_22_sk1.sketch, amount=-ENL_V_MAT_EXTRU_22_REACH, mode=Mode.PRIVATE) & part.part
    # Esquisse21 → Enlèv. mat.-Extru.22 (cut, up to next)
    with BuildSketch(Plane(origin=(0, 6, 0), x_dir=(1, 0, 0), z_dir=(0, 1, 0)), mode=Mode.PRIVATE) as enl_v_mat_extru_22_sk2:
        with Locations(Location((21, -134, 0), (0, 0, 270))):
            Circle(ESQUISSE21_R)
    enl_v_mat_extru_22_tool2 = extrude(enl_v_mat_extru_22_sk2.sketch, amount=-ENL_V_MAT_EXTRU_22_REACH, mode=Mode.PRIVATE) & part.part
    # Esquisse21 → Enlèv. mat.-Extru.22 (cut, up to next)
    with BuildSketch(Plane(origin=(0, 6, 0), x_dir=(1, 0, 0), z_dir=(0, 1, 0)), mode=Mode.PRIVATE) as enl_v_mat_extru_22_sk3:
        with Locations(Location((-21, -134, 0), (0, 0, 270))):
            Circle(ESQUISSE21_R)
    enl_v_mat_extru_22_tool3 = extrude(enl_v_mat_extru_22_sk3.sketch, amount=-ENL_V_MAT_EXTRU_22_REACH, mode=Mode.PRIVATE) & part.part
    add(enl_v_mat_extru_22_tool1.solids().sort_by_distance((0, 6, 134))[0], mode=Mode.SUBTRACT)
    add(enl_v_mat_extru_22_tool2.solids().sort_by_distance((21, 6, 134))[0], mode=Mode.SUBTRACT)
    add(enl_v_mat_extru_22_tool3.solids().sort_by_distance((-21, 6, 134))[0], mode=Mode.SUBTRACT)


solid = part.part
